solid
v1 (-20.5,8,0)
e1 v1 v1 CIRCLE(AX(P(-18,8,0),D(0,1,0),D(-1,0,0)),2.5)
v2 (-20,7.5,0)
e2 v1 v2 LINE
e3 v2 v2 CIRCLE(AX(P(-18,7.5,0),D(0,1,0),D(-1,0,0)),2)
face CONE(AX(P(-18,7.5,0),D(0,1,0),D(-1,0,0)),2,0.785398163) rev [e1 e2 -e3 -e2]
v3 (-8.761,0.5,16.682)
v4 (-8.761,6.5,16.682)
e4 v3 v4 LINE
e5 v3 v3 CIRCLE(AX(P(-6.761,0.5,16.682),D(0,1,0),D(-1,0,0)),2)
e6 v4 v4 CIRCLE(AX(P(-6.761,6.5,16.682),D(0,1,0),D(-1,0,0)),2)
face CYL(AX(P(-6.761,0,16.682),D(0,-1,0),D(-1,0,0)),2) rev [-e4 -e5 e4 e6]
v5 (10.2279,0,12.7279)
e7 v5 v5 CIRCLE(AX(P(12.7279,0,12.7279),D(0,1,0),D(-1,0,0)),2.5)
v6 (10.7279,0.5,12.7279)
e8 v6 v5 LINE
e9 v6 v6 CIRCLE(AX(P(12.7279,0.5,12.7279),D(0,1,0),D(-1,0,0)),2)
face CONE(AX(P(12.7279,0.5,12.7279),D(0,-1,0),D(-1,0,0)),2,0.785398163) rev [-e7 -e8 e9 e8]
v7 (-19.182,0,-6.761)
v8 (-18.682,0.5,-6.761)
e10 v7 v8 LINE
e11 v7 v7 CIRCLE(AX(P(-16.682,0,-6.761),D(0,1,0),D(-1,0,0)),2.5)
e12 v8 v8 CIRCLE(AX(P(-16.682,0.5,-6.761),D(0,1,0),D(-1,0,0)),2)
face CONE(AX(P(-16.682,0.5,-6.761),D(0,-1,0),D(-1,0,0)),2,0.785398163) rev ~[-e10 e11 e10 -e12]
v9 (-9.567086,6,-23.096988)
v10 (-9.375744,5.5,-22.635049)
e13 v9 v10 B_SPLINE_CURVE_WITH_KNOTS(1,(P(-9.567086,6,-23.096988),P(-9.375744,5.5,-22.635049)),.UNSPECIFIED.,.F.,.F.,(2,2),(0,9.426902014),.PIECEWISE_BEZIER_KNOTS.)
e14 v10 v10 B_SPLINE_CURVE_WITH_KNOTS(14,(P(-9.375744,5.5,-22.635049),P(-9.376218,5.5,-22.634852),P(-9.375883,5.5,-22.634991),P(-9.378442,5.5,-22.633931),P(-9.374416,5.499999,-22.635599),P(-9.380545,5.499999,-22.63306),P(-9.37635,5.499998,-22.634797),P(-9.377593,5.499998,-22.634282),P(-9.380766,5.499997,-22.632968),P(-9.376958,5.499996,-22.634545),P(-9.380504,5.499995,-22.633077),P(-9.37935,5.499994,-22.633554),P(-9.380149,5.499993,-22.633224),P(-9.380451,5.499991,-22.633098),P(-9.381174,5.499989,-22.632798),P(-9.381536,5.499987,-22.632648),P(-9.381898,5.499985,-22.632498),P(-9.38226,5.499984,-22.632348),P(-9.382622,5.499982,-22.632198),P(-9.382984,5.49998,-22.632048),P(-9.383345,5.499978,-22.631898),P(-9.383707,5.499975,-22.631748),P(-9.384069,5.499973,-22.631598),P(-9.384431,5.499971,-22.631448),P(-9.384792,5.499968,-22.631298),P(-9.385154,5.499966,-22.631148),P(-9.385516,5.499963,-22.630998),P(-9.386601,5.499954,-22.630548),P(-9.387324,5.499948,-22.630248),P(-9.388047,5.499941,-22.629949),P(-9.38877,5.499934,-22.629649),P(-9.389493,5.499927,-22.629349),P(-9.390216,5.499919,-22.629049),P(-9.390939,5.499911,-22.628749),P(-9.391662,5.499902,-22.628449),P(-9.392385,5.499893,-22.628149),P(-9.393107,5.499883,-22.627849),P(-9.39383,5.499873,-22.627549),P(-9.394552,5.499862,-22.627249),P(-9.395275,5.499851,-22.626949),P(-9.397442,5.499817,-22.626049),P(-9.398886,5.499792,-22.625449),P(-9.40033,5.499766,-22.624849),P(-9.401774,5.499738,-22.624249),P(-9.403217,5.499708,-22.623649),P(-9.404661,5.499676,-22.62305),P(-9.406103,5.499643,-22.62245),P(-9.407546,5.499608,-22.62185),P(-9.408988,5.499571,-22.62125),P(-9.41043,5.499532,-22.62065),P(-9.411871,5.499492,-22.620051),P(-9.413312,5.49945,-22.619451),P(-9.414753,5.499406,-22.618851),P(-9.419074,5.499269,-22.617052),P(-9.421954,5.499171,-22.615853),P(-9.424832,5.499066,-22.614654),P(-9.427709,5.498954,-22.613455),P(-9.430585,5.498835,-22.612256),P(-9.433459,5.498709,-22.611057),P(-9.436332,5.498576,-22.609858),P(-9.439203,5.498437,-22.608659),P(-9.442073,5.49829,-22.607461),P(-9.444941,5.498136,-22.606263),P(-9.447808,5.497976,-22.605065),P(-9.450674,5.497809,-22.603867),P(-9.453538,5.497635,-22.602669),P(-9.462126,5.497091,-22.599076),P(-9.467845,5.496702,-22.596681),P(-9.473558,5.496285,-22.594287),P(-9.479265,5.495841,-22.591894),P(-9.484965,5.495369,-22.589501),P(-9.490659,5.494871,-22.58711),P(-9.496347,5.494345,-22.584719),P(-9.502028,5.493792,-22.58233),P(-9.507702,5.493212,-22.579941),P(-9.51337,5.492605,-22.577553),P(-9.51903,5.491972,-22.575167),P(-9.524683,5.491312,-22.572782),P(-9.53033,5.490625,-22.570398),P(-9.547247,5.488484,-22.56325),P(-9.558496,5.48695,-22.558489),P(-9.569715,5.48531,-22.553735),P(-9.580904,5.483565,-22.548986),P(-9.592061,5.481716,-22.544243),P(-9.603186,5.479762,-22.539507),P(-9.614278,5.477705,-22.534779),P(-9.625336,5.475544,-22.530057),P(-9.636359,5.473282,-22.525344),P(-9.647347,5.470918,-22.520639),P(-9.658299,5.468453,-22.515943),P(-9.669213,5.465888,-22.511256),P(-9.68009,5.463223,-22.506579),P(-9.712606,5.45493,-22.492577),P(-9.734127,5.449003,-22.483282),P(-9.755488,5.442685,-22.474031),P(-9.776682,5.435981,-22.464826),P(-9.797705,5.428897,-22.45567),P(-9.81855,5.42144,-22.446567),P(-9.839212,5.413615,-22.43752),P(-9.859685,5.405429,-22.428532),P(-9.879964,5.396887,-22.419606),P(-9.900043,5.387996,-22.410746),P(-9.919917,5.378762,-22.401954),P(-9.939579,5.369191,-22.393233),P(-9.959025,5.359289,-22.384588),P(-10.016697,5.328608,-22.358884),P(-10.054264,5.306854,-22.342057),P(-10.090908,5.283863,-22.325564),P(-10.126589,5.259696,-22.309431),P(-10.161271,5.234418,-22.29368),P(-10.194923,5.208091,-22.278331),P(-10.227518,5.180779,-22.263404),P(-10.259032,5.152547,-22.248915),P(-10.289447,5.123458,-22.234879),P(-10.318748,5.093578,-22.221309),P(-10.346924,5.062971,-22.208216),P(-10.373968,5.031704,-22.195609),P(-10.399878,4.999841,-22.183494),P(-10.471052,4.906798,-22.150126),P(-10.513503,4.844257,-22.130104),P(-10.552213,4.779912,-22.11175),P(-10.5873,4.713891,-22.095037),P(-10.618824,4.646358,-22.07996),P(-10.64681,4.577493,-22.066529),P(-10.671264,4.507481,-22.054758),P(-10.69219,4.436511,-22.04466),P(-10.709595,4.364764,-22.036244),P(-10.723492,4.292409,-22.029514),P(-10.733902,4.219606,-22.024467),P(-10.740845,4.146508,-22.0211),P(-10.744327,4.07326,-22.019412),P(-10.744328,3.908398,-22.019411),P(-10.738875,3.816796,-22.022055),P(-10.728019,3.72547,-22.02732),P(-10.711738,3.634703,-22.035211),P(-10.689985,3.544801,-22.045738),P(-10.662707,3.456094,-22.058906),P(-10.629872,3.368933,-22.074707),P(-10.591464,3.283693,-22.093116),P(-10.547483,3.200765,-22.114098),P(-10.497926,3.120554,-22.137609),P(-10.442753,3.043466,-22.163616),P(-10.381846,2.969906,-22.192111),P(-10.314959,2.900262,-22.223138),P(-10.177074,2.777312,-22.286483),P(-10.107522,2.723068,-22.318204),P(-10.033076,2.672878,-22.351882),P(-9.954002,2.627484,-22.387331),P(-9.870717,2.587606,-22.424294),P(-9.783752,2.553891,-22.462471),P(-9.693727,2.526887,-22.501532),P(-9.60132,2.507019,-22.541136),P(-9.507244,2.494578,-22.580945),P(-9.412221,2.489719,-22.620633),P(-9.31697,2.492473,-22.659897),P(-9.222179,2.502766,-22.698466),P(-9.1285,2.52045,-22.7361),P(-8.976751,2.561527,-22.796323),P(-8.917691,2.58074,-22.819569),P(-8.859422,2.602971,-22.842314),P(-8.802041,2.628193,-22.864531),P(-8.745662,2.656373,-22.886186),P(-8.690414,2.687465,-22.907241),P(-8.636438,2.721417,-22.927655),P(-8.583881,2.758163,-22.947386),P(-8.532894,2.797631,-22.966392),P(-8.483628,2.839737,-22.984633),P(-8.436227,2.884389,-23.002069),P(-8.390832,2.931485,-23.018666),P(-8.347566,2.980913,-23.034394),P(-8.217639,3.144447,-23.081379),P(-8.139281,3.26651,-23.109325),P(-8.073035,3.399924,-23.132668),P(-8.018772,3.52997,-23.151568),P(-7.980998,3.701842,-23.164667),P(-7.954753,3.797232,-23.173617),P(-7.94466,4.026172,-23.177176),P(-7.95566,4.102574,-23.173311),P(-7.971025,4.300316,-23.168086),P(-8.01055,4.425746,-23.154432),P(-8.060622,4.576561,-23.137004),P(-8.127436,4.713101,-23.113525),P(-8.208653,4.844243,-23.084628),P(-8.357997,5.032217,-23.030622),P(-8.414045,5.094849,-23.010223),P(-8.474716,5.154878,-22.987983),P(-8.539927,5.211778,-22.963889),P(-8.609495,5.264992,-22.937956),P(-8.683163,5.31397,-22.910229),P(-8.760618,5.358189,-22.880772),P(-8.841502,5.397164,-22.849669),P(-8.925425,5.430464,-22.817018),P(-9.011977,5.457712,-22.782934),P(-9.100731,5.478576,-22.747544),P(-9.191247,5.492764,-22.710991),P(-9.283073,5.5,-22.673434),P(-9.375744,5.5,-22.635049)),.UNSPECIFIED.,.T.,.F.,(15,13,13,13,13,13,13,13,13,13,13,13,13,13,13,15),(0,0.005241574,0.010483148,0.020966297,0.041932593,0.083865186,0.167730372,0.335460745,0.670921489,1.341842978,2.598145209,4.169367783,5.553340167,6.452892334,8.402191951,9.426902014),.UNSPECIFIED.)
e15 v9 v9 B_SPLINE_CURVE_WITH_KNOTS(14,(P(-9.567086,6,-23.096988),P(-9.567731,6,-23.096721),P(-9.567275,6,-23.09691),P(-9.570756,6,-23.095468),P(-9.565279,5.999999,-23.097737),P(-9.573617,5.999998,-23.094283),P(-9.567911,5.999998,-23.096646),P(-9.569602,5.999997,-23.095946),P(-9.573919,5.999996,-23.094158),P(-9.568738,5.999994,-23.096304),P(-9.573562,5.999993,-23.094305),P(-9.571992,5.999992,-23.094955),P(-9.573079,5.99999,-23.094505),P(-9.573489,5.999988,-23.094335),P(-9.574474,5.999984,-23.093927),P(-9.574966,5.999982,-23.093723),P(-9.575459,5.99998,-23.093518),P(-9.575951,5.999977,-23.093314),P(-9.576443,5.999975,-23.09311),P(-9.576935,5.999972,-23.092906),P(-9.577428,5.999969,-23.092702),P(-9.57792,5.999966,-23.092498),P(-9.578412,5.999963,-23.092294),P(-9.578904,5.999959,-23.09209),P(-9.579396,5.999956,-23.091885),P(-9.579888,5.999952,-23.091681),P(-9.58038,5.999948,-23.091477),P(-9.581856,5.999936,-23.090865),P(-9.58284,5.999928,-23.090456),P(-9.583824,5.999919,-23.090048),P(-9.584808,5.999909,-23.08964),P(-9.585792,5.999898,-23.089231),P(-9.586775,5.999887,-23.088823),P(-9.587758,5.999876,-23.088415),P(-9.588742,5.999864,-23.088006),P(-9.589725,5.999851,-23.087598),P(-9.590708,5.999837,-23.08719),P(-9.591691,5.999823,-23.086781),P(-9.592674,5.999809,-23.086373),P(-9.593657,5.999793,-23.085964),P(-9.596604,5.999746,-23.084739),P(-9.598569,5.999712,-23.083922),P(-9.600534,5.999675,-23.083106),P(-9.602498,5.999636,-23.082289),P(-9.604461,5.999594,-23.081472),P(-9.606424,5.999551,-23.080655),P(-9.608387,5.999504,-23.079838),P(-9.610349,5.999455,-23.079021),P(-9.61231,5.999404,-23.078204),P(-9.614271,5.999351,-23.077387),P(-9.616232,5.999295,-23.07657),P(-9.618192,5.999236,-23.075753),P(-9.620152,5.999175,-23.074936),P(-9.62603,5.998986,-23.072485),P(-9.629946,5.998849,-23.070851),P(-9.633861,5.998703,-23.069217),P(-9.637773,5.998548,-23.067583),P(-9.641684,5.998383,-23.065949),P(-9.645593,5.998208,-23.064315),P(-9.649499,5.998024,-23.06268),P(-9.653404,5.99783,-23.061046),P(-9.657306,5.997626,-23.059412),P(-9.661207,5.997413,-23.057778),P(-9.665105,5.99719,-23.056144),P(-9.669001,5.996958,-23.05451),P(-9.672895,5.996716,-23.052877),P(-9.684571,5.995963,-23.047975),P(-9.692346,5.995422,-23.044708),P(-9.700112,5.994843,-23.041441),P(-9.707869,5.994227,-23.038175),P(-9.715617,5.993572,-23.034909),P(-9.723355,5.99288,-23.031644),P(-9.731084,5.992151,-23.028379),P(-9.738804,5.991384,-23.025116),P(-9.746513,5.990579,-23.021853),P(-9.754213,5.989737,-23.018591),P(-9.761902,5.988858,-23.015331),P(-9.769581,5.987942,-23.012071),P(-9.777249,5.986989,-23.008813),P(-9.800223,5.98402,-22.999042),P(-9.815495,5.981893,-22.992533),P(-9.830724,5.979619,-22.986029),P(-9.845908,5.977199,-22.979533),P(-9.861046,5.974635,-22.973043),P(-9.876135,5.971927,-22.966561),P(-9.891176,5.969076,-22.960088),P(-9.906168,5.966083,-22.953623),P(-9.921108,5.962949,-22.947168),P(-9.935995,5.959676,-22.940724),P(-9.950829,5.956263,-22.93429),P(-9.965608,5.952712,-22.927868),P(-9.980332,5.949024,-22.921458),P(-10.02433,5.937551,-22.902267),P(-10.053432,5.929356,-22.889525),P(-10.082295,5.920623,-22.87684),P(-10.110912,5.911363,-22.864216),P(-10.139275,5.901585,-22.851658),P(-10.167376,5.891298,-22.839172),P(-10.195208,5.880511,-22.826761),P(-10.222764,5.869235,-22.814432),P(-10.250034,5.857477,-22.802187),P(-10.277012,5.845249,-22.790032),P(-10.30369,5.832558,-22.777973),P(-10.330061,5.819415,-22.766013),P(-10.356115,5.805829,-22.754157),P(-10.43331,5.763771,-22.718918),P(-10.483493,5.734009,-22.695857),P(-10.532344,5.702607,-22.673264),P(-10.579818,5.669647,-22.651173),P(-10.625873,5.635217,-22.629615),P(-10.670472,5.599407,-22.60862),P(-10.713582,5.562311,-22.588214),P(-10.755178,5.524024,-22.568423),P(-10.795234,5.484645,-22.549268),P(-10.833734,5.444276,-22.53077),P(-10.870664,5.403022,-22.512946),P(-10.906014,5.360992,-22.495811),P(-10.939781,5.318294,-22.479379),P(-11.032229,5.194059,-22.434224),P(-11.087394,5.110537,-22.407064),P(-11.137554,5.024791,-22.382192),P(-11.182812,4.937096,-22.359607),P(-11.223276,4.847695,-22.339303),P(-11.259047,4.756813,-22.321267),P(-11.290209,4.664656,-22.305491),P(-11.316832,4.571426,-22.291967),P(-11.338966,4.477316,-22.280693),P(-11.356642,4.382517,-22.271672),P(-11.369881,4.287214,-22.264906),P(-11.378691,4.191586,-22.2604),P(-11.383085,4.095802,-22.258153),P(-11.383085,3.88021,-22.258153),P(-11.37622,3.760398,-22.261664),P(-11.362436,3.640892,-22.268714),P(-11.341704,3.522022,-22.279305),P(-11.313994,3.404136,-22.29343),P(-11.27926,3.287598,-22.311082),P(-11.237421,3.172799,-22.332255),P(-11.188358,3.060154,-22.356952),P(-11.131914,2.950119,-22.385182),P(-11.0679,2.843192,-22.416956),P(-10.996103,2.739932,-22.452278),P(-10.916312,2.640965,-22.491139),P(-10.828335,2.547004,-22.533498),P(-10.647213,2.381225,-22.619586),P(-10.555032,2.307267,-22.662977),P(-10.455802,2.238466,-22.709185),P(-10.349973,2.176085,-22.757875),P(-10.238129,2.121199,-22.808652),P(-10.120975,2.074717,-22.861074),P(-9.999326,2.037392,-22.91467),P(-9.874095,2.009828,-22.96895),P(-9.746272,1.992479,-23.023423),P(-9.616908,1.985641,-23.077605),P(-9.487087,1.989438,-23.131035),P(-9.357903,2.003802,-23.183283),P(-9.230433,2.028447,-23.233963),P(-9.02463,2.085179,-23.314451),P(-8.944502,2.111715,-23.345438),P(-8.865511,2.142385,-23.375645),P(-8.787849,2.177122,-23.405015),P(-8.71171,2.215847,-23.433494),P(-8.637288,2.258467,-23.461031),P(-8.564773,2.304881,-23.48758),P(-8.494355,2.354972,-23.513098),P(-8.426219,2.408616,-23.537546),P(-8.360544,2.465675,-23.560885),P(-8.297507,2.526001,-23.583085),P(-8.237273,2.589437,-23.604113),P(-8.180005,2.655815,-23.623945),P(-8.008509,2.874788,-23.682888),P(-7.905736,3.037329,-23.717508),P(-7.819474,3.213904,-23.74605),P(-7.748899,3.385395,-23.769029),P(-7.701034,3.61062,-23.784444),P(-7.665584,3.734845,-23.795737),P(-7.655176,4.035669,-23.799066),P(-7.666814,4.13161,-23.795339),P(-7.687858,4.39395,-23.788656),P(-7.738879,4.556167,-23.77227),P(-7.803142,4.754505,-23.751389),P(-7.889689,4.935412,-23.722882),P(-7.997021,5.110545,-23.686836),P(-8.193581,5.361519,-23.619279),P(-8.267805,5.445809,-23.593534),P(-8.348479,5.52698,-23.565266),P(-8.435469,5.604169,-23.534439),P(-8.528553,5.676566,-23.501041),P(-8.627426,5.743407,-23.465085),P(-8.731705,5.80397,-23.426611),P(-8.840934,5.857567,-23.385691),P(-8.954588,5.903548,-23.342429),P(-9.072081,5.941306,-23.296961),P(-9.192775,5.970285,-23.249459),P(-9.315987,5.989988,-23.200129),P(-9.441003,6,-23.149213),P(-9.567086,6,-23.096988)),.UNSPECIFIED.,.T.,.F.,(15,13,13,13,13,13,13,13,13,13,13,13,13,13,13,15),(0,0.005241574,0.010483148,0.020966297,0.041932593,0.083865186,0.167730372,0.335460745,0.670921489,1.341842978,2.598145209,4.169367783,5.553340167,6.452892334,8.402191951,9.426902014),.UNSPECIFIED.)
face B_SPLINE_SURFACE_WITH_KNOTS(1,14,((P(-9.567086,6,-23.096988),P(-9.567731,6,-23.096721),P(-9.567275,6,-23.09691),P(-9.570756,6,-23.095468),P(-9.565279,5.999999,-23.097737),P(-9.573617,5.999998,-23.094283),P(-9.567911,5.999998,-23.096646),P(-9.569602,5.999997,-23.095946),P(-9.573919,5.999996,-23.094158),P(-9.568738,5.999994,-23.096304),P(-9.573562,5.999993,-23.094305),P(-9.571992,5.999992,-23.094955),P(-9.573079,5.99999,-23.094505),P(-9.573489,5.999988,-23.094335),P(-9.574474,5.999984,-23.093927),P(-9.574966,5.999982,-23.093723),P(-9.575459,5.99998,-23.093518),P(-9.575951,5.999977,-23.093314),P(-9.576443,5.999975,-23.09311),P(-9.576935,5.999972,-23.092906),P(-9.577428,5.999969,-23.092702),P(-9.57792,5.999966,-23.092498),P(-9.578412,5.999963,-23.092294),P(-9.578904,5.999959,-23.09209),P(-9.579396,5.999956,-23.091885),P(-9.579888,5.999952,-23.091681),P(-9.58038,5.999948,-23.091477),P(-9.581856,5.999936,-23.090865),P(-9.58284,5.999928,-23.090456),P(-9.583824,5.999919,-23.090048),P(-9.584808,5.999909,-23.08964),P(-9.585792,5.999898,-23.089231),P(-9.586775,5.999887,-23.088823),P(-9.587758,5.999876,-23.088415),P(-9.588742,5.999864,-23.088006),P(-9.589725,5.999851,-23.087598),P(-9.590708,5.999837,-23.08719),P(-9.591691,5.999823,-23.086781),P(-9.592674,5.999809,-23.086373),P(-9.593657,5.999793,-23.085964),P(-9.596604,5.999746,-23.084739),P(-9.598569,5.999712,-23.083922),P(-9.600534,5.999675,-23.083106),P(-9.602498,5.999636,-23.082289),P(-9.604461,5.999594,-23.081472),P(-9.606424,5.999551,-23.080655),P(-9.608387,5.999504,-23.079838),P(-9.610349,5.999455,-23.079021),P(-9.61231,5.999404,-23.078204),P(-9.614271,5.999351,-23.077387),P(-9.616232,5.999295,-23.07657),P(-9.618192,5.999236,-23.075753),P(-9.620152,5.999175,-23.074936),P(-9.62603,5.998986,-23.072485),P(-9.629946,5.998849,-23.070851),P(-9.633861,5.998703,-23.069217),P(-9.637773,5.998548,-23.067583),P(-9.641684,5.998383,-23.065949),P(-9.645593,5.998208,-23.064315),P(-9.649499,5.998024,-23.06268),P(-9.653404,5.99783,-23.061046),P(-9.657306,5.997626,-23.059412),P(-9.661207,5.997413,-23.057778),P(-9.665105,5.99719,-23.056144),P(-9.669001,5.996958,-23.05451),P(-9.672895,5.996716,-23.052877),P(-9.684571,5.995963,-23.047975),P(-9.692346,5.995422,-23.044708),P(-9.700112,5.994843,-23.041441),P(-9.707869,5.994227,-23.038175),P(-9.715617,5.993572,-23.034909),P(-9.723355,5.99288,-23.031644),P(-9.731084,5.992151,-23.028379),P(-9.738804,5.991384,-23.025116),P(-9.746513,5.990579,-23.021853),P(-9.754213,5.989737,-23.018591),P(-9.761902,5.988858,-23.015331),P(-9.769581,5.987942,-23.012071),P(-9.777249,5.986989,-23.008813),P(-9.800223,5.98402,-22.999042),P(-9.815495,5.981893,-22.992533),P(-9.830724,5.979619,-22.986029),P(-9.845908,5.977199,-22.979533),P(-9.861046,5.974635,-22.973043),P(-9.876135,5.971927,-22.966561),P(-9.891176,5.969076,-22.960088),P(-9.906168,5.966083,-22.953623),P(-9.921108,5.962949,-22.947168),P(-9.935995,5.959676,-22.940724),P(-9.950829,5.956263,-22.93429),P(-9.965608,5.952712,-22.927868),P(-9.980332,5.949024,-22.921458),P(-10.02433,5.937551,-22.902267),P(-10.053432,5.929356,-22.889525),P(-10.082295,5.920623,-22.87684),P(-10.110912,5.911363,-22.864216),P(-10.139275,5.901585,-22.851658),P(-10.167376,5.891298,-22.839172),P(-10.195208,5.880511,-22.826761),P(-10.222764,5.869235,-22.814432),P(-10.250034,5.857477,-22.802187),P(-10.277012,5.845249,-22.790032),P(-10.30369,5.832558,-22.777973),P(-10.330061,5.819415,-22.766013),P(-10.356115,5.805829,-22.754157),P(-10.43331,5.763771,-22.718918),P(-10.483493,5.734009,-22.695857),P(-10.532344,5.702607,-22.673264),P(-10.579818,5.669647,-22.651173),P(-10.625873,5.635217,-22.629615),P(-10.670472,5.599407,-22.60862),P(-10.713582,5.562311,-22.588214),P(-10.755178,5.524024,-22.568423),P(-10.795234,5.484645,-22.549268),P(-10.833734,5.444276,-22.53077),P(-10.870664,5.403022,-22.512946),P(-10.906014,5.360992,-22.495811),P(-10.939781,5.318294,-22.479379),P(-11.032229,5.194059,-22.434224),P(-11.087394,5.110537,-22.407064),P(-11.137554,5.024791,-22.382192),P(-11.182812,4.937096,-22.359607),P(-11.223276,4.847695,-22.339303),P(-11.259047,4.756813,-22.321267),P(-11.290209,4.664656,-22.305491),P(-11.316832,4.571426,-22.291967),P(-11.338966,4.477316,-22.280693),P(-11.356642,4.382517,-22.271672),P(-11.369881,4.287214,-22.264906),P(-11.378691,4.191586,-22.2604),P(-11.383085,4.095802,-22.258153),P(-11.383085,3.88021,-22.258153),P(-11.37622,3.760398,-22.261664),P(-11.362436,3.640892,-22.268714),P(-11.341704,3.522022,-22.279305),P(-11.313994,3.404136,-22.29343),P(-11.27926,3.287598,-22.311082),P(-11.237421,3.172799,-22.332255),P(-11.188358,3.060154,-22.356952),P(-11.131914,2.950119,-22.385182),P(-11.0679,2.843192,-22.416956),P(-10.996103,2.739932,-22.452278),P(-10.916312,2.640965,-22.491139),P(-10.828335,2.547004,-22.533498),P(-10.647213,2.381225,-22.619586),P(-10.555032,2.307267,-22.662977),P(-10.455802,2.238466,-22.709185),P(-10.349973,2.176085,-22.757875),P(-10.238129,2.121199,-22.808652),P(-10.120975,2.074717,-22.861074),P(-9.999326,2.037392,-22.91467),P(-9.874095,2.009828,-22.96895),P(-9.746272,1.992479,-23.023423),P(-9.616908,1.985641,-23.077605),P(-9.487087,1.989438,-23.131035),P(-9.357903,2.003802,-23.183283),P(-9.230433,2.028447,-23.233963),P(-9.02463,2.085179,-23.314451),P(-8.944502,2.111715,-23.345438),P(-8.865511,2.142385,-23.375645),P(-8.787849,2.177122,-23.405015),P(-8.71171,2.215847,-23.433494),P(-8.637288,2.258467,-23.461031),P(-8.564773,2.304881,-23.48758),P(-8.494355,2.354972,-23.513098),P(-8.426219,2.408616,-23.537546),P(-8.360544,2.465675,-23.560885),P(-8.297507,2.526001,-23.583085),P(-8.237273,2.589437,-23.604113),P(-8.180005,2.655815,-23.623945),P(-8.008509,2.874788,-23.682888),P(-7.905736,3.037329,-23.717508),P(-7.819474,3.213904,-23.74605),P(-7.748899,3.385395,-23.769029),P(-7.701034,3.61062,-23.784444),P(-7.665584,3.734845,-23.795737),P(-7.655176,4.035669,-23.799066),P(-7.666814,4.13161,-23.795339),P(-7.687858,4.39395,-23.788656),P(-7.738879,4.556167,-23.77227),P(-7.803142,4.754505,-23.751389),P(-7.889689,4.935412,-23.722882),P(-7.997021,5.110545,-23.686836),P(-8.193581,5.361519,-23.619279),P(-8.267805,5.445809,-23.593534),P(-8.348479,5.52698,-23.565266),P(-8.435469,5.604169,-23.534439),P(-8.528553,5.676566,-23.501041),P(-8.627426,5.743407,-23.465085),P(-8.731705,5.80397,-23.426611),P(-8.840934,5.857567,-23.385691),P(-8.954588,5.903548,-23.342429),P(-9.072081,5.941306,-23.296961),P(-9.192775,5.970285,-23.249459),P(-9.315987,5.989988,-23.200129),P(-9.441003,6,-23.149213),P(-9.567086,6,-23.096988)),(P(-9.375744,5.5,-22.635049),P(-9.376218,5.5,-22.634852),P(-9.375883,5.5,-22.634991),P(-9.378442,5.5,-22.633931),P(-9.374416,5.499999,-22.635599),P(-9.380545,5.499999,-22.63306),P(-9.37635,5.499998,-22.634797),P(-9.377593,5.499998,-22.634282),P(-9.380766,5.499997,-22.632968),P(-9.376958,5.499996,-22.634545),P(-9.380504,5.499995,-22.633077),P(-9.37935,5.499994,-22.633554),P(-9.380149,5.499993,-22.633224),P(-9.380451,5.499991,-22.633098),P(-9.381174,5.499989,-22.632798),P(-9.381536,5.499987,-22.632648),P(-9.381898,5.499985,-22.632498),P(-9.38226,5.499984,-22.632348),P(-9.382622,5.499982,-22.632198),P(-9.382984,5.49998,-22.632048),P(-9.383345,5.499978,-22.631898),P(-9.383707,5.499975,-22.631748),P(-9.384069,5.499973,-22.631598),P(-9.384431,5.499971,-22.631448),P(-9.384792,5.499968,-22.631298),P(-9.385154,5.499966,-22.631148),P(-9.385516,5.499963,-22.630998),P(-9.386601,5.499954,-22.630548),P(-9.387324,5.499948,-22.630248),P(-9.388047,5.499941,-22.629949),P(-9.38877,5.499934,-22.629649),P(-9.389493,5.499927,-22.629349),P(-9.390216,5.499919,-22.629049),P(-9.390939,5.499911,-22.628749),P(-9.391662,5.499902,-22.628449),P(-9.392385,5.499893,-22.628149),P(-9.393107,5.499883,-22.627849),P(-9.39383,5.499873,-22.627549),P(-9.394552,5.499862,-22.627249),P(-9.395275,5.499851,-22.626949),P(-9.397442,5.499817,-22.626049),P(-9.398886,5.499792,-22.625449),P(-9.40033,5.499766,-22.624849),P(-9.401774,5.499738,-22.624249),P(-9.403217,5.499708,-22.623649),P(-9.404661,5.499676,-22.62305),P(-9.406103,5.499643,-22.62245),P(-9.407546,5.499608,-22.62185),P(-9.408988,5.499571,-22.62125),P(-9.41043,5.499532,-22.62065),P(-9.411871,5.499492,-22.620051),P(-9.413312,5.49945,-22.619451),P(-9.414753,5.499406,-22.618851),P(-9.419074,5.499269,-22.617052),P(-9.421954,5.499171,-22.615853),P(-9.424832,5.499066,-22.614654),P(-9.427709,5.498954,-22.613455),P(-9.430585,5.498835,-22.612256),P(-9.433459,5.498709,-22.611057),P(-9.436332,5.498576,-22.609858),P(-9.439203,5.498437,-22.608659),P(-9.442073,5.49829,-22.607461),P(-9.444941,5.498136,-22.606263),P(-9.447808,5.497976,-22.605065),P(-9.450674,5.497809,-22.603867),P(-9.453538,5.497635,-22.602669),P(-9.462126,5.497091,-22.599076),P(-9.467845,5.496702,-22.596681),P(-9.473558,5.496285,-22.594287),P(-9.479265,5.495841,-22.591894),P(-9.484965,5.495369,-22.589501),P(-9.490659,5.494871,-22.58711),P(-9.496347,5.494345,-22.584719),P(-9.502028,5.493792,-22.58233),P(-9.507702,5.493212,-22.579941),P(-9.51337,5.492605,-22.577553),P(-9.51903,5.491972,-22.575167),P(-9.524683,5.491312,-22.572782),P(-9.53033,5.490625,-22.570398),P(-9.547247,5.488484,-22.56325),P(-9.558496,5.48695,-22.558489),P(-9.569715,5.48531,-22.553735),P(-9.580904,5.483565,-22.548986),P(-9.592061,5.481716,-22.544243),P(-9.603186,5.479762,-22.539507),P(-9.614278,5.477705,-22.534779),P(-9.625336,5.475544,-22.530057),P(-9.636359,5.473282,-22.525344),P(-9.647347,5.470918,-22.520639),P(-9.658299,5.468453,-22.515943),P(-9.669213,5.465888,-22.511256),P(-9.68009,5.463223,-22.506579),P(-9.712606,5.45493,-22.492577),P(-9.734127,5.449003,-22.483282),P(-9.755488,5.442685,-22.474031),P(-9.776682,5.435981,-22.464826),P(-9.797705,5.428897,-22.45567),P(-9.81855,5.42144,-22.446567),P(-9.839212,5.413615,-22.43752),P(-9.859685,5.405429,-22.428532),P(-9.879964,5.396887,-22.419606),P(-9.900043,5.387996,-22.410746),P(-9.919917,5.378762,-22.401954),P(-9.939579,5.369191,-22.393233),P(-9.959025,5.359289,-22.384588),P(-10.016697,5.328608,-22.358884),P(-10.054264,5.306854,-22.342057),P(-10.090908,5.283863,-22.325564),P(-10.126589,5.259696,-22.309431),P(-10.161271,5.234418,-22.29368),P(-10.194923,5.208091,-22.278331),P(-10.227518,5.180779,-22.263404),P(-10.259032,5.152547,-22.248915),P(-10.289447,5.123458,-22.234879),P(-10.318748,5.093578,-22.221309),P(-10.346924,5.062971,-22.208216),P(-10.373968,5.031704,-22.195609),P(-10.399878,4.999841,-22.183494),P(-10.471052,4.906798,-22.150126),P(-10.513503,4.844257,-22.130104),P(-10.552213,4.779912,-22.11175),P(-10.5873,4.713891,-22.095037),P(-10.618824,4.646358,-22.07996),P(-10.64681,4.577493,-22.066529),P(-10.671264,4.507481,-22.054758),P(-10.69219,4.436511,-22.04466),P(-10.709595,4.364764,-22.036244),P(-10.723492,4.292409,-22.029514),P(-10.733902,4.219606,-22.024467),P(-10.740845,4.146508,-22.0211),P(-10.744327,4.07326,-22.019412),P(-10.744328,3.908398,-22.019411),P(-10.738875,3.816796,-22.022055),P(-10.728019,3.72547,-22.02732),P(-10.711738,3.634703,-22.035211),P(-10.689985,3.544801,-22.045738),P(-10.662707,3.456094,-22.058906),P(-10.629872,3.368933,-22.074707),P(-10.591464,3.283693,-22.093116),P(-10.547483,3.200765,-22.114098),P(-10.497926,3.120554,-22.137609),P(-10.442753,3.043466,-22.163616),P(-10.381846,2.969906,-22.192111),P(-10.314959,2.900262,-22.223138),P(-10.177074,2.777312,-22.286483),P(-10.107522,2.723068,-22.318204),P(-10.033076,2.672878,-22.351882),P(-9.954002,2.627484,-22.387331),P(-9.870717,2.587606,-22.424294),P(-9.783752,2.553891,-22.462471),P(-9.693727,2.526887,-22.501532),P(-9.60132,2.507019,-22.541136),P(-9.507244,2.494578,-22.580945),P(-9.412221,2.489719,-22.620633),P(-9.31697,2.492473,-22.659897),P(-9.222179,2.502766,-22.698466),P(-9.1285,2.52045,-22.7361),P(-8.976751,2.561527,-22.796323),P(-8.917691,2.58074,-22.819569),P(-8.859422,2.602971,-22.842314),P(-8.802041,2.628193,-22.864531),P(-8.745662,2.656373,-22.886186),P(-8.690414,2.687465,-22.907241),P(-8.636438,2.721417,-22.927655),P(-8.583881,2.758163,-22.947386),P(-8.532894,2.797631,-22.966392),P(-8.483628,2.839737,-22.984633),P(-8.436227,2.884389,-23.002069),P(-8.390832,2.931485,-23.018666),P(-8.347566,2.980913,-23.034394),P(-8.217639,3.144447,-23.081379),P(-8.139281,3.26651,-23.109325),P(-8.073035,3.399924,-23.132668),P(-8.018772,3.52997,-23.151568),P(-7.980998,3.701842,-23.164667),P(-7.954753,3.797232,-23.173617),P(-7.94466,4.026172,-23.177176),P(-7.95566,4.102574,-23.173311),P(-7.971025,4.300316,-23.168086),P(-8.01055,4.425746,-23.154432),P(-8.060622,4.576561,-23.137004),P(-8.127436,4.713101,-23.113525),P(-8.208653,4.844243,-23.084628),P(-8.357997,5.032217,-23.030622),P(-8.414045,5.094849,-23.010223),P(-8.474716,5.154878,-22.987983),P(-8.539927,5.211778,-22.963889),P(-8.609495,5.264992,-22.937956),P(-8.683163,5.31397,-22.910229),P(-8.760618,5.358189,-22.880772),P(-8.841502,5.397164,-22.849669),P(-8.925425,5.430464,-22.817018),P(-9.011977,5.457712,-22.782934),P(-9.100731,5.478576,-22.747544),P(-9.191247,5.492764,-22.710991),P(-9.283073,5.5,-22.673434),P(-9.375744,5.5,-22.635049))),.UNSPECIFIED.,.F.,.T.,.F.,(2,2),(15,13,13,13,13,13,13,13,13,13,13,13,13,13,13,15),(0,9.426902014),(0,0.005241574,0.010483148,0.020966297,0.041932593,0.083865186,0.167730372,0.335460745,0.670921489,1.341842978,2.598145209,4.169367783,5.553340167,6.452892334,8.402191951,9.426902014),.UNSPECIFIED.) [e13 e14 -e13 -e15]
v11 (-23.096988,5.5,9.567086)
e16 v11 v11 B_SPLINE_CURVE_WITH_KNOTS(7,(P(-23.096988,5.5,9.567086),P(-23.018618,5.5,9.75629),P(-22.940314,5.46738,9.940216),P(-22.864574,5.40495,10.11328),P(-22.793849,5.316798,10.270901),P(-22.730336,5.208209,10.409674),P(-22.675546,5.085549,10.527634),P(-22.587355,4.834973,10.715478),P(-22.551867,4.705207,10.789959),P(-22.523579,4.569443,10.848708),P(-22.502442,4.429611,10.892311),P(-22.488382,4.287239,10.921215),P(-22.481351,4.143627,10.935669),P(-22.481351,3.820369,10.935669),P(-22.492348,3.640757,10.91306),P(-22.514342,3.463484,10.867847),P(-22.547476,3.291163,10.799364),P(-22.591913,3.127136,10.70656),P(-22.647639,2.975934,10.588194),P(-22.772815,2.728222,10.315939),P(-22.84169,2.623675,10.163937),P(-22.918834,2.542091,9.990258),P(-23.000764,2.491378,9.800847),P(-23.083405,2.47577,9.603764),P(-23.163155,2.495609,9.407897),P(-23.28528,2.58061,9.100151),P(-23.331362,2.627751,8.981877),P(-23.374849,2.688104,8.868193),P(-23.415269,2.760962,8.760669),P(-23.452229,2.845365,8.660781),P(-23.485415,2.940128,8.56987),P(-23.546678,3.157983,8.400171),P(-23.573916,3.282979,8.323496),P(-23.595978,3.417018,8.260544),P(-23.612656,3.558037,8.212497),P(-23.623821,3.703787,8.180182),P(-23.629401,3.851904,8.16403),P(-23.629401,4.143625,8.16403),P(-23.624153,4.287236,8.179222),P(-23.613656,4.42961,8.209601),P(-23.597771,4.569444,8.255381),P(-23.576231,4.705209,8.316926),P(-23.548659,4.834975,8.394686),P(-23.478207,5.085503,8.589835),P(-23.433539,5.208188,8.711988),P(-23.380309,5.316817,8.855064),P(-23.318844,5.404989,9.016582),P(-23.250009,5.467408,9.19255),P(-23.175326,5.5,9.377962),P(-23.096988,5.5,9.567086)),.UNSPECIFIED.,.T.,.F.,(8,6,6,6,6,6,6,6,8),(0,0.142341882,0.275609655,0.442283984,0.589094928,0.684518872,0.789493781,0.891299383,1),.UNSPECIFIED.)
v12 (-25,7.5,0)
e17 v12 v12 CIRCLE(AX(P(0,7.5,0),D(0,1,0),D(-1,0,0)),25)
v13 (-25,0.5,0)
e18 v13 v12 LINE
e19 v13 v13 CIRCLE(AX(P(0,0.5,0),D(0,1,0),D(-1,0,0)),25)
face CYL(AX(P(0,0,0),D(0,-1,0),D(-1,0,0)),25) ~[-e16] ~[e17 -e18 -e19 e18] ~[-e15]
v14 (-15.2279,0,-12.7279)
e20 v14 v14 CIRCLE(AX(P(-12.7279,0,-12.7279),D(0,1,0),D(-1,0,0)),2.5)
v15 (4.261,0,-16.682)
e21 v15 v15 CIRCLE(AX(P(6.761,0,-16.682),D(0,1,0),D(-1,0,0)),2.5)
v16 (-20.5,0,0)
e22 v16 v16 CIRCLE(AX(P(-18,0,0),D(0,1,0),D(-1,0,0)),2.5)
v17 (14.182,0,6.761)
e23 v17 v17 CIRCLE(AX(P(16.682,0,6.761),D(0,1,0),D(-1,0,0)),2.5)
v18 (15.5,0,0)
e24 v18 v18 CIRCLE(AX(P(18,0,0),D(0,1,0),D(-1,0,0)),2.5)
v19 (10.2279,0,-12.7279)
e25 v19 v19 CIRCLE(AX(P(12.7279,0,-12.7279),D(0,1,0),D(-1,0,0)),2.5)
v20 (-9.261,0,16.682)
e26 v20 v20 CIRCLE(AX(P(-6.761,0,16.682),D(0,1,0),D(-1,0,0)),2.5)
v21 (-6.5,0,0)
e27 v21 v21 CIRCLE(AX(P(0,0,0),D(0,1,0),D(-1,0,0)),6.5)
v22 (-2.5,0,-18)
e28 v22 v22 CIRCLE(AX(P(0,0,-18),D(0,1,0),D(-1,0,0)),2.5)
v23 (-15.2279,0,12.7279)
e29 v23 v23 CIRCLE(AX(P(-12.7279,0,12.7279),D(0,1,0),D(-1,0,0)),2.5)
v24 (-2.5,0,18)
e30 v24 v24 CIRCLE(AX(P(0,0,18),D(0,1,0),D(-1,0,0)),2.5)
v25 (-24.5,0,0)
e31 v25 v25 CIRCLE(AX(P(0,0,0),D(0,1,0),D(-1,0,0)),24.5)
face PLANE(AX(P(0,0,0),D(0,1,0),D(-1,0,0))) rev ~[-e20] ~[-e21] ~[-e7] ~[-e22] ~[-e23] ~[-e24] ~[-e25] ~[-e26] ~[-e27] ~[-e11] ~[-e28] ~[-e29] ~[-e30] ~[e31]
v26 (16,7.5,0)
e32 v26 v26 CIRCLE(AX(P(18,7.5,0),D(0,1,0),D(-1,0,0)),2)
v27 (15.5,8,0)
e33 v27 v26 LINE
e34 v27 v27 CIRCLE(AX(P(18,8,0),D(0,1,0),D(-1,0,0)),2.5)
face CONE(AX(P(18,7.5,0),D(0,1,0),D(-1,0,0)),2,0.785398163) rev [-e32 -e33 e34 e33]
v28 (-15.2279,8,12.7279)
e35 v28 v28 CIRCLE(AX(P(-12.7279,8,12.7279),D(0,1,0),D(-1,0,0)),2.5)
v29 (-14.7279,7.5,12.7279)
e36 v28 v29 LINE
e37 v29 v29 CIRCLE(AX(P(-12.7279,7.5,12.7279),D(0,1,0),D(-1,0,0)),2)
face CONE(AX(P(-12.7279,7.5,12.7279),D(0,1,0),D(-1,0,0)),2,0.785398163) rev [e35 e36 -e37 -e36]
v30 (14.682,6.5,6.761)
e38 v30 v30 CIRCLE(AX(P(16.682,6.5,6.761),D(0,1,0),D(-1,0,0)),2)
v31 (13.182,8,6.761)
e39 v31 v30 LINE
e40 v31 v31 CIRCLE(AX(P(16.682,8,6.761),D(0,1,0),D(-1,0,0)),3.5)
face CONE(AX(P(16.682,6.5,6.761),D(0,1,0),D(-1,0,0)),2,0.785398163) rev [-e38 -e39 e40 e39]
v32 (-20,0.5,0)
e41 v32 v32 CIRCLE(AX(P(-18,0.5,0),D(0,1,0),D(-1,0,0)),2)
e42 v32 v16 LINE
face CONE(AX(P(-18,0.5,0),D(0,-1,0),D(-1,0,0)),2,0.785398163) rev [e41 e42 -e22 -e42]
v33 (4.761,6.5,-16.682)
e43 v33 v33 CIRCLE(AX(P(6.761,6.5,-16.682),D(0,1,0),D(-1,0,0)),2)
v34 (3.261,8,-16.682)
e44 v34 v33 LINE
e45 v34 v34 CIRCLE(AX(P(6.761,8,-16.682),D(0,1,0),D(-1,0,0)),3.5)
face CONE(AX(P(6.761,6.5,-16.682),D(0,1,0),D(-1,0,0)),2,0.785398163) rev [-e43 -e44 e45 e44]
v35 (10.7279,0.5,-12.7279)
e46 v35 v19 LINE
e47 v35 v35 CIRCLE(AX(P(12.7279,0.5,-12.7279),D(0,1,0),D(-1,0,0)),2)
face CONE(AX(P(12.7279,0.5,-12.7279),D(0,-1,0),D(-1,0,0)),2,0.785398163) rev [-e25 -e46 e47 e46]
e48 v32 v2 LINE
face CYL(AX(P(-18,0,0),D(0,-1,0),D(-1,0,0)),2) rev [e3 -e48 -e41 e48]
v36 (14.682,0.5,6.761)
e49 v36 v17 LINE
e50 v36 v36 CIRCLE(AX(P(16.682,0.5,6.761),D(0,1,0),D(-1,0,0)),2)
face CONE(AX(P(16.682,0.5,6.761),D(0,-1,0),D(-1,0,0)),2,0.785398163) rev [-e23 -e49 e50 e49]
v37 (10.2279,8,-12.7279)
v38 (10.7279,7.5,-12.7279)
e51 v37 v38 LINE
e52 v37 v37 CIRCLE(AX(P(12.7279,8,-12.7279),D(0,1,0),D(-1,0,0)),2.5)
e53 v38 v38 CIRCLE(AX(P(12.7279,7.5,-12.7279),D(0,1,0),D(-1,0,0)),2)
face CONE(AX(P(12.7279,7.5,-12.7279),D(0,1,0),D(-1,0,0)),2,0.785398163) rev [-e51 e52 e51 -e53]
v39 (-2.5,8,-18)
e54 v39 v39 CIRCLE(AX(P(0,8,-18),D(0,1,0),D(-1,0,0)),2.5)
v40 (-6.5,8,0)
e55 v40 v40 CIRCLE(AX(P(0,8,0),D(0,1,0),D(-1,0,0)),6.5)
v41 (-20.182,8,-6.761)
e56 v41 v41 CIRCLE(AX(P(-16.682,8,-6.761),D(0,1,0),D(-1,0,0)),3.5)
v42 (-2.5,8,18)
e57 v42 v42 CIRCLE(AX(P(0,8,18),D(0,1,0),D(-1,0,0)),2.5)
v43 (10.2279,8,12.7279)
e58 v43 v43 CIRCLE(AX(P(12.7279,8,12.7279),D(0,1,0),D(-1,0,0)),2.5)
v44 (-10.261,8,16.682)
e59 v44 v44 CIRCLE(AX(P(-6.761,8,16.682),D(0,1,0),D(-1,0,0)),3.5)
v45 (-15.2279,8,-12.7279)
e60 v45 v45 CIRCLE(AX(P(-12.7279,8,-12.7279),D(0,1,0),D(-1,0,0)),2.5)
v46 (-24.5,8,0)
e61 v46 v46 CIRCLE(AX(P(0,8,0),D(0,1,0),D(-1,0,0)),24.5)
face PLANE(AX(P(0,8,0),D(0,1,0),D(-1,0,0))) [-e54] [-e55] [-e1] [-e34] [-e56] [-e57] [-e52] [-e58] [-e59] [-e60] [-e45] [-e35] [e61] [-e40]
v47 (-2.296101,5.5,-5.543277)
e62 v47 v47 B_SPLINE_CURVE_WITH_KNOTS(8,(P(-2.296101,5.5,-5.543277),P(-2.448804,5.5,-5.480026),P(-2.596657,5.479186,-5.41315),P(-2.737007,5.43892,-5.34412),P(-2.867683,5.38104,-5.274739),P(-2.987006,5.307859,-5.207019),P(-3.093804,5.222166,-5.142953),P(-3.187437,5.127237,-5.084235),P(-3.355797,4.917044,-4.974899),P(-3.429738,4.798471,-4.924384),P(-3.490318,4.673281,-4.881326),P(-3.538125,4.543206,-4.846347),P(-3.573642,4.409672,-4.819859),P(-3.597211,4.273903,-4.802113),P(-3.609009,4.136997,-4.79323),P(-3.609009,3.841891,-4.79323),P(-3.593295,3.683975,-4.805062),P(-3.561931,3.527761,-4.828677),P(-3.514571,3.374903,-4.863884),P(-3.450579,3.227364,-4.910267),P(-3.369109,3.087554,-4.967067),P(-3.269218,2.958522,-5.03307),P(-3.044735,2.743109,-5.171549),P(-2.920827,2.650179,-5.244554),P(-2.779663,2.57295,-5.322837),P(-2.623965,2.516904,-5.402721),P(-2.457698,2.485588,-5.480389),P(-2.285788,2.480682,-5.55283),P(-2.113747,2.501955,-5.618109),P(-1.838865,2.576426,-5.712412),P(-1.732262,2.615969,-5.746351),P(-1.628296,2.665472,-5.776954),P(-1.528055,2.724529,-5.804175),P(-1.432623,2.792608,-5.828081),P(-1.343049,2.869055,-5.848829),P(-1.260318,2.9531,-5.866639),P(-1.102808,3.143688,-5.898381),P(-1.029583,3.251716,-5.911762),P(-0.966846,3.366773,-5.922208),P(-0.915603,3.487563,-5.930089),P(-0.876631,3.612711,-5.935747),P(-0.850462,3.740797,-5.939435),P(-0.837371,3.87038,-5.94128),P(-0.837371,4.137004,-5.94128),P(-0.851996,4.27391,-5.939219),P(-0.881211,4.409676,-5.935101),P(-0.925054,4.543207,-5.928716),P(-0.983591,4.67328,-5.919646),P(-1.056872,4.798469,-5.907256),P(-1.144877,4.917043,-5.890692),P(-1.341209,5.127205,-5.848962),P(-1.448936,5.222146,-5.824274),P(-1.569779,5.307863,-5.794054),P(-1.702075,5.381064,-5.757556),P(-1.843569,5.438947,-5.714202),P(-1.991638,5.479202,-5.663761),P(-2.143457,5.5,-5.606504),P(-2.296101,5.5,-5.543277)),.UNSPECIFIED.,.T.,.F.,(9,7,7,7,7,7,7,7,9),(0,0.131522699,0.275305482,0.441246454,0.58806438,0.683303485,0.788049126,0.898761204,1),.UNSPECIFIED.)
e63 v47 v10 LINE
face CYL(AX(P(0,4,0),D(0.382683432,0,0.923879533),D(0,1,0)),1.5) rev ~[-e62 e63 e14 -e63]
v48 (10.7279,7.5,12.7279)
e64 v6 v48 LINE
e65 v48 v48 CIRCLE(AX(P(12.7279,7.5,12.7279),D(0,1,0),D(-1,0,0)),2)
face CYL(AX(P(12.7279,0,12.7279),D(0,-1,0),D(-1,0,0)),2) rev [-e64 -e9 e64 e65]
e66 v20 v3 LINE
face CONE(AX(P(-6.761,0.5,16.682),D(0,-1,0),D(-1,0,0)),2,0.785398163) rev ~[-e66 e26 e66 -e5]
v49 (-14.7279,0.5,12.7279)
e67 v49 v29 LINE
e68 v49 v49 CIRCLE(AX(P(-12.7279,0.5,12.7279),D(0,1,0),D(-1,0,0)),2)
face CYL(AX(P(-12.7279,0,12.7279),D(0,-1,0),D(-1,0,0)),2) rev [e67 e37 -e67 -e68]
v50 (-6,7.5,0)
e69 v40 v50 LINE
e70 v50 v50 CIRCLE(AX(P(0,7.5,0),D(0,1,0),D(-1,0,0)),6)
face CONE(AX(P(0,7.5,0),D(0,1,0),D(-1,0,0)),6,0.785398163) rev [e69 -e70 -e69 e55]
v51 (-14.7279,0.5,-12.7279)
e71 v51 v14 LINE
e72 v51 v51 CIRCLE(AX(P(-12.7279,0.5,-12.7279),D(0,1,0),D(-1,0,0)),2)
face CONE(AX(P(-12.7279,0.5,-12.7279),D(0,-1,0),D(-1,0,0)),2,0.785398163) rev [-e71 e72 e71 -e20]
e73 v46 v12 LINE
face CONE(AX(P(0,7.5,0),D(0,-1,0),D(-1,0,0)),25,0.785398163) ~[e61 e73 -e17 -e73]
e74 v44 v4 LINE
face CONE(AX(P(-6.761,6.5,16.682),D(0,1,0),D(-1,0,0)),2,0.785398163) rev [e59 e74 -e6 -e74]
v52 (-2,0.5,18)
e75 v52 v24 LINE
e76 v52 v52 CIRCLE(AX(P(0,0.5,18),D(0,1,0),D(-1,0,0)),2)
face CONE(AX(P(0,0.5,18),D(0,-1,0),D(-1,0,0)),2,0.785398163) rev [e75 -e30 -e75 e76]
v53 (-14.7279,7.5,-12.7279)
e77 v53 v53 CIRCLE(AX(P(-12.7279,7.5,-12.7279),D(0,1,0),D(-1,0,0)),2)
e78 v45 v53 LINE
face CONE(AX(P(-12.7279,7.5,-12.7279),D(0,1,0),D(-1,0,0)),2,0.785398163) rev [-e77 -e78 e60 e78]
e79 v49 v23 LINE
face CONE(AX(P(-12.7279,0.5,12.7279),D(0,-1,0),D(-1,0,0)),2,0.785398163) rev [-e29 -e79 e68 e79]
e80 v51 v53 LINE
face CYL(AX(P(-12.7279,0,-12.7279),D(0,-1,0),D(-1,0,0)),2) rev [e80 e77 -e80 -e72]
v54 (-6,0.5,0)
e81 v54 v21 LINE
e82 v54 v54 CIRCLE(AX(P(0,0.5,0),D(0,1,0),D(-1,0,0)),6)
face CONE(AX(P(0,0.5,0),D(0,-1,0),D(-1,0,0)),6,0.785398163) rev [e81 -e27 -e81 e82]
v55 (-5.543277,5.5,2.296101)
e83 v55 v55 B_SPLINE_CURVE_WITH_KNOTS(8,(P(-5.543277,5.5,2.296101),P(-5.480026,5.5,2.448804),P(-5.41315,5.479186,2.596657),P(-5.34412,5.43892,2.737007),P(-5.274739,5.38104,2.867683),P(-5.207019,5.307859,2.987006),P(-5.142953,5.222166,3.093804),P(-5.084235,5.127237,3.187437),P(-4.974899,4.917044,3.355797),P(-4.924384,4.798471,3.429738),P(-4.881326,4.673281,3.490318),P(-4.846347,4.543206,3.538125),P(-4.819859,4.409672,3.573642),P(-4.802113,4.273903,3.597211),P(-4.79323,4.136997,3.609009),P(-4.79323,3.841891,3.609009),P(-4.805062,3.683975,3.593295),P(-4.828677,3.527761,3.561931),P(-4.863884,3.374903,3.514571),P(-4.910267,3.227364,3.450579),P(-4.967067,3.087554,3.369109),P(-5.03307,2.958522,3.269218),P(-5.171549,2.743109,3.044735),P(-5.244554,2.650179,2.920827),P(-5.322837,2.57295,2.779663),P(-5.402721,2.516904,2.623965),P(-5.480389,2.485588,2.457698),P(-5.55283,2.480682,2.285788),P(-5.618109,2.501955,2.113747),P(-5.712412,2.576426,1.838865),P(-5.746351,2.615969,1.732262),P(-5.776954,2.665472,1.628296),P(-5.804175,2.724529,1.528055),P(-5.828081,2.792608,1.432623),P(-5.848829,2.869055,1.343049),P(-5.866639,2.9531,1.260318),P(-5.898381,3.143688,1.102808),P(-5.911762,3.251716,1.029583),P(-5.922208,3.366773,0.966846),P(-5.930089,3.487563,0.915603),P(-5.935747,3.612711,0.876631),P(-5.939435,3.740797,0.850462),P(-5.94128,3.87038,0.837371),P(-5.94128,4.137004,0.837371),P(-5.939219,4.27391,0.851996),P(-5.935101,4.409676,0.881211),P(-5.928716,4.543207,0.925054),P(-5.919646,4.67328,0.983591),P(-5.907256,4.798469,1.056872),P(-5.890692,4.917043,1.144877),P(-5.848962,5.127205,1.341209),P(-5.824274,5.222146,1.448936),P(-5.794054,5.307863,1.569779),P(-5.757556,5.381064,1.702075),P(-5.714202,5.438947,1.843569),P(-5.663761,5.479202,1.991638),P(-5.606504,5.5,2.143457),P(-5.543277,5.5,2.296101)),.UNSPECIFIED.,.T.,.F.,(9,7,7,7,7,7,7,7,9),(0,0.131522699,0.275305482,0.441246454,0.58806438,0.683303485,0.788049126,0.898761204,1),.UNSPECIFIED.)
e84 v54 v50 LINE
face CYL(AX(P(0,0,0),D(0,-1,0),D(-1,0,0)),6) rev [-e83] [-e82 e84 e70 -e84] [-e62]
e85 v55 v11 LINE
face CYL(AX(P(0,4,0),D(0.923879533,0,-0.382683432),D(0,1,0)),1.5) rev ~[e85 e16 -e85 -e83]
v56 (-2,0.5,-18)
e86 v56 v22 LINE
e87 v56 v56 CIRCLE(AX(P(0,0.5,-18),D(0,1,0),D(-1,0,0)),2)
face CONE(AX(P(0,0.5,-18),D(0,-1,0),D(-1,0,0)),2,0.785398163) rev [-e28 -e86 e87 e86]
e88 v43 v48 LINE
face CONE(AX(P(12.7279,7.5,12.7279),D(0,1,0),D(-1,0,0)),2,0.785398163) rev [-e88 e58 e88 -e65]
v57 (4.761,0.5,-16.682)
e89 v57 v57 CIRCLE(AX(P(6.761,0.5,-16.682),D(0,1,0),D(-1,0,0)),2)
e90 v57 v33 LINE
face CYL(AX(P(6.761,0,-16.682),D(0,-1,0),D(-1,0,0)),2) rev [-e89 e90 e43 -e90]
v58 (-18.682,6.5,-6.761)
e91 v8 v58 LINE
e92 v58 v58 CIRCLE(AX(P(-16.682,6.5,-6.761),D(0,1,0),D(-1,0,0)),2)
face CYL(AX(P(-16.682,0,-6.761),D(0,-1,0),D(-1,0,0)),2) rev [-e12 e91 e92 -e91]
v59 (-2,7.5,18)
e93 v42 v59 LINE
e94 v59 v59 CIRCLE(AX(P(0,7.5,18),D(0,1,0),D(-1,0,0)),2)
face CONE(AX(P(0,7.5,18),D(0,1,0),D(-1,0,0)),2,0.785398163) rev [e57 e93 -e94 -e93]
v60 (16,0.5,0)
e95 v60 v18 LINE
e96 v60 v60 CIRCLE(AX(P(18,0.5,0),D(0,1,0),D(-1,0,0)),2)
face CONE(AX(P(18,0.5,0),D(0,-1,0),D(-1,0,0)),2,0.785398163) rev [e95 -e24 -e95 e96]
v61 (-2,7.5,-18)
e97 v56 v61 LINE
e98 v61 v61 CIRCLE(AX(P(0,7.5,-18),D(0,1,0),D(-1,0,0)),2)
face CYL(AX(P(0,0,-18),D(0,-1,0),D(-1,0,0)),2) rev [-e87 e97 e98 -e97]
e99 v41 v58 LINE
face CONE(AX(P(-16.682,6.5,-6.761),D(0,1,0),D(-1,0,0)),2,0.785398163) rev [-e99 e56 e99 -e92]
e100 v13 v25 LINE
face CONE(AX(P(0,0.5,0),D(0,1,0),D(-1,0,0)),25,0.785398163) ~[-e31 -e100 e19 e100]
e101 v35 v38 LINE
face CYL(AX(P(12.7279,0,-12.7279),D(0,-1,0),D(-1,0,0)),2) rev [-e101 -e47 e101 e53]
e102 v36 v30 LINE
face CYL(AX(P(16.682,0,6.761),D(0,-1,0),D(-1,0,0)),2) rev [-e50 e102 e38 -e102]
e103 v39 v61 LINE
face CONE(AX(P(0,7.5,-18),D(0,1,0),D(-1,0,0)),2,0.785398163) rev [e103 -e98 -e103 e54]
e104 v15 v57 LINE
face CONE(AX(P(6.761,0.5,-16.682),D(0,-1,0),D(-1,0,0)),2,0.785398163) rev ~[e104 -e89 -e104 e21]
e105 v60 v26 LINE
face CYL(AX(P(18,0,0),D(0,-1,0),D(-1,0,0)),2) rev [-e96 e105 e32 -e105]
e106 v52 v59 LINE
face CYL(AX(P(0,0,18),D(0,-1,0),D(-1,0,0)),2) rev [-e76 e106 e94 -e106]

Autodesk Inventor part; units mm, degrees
ref_plane "YZ Plane" through (0, 0, 0) normal (1, 0, 0) x (0, 1, 0)
ref_plane "XZ Plane" through (0, 0, 0) normal (0, 1, 0) x (-1, 0, 0)
sketch "Sketch1" plane through (0, 0, 0) normal (0, 1, 0) x (-1, 0, 0)
  circle A0 centre (0, 0) radius 6
  circle A1 centre (0, 0) radius 25
  circle A2 centre (0, -18) radius 2
  circle A3 centre (12.7279, -12.7279) radius 2
  circle A4 centre (18, 0) radius 2
  circle A5 centre (12.7279, 12.7279) radius 2
  circle A6 centre (0, 18) radius 2
  circle A7 centre (-12.7279, 12.7279) radius 2
  circle A8 centre (-18, 0) radius 2
  circle A9 centre (-12.7279, -12.7279) radius 2
  circle A10 centre (16.682, -6.761) radius 2
  circle A11 centre (6.761, 16.682) radius 2
  circle A12 centre (-16.682, 6.761) radius 2
  circle A13 centre (-6.761, -16.682) radius 2
  dimension "d0" = 50
  dimension "d1" = 12
  dimension "d4" = 4
  dimension "d5" = 18
  dimension "d8" = 360
  dimension "d18" = 4
  dimension "d21" = 13.7766
  dimension "d22" = 6.8883
  dimension "d23" = 18
  dimension "d26" = 360
extrude "Extrusion1" add sketch "Sketch1" along normal blind 8
ref_plane "Work Plane2" through (0, 0, 0) normal (0.3827, 0, 0.9239) x (0, 1, 0)
sketch "Sketch2" plane through (0, 0, 0) normal (0.3827, 0, 0.9239) x (0, 1, 0)
  circle A0 centre (4, 0) radius 1.5
  line L0 (8, -25) -> (8, 25) projected
  line L1 (0, -25) -> (0, 25) projected
  point P0 (0, 0)
  dimension "d11" = 3
  dimension "d12" = 8
  dimension "d13" = 4
extrude "Extrusion2" cut sketch "Sketch2" against normal up to surface
thread "Thread1" size "M3x0.5" class "6H" standard "ANSI Metric M Profile" full length
chamfer "Chamfer1" distance 1.5 angle 45 4 edges at (18.682, 8, 6.761) (-4.761, 8, 16.682) (-14.682, 8, -6.761) (8.761, 8, -16.682)
thread "Thread2" size "M4x0.7" class "6H" standard "ANSI Metric M Profile" full length
thread "Thread3" size "M4x0.7" class "6H" standard "ANSI Metric M Profile" full length
thread "Thread4" size "M4x0.7" class "6H" standard "ANSI Metric M Profile" full length
thread "Thread5" size "M4x0.7" class "6H" standard "ANSI Metric M Profile" full length
thread "Thread6" size "M4x0.7" class "6H" standard "ANSI Metric M Profile" full length
thread "Thread7" size "M4x0.7" class "6H" standard "ANSI Metric M Profile" full length
thread "Thread8" size "M4x0.7" class "6H" standard "ANSI Metric M Profile" full length
thread "Thread9" size "M4x0.7" class "6H" standard "ANSI Metric M Profile" full length
chamfer "Chamfer2" distance 0.5 angle 45 25 edges at (25, 8, 0) (6, 8, 0) (25, 0, 0) (6, 0, 0) (14.7279, 8, -12.7279) (20, 8, 0) (14.7279, 8, 12.7279) (2, 8, 18) (-10.7279, 8, 12.7279) (-16, 8, 0) (-10.7279, 8, -12.7279) (2, 8, -18) (-10.0215, 2.5836, -22.9035) (2, 0, -18) (8.761, 0, -16.682) (14.7279, 0, -12.7279) (20, 0, 0) (18.682, 0, 6.761) (14.7279, 0, 12.7279) (2, 0, 18) (-4.761, 0, 16.682) (-10.7279, 0, 12.7279) (-16, 0, 0) (-14.682, 0, -6.761) (-10.7279, 0, -12.7279)
pattern_circular "Circular Pattern1" count 2 over 90 about axis through (0, -10, 0) along (0, 1, 0) of "Extrusion2"
equation "\"d22\" = 0.5 * d21"
equation "\"d13\" = 0.5 * d12"
properties part number "endeffector mount part"
